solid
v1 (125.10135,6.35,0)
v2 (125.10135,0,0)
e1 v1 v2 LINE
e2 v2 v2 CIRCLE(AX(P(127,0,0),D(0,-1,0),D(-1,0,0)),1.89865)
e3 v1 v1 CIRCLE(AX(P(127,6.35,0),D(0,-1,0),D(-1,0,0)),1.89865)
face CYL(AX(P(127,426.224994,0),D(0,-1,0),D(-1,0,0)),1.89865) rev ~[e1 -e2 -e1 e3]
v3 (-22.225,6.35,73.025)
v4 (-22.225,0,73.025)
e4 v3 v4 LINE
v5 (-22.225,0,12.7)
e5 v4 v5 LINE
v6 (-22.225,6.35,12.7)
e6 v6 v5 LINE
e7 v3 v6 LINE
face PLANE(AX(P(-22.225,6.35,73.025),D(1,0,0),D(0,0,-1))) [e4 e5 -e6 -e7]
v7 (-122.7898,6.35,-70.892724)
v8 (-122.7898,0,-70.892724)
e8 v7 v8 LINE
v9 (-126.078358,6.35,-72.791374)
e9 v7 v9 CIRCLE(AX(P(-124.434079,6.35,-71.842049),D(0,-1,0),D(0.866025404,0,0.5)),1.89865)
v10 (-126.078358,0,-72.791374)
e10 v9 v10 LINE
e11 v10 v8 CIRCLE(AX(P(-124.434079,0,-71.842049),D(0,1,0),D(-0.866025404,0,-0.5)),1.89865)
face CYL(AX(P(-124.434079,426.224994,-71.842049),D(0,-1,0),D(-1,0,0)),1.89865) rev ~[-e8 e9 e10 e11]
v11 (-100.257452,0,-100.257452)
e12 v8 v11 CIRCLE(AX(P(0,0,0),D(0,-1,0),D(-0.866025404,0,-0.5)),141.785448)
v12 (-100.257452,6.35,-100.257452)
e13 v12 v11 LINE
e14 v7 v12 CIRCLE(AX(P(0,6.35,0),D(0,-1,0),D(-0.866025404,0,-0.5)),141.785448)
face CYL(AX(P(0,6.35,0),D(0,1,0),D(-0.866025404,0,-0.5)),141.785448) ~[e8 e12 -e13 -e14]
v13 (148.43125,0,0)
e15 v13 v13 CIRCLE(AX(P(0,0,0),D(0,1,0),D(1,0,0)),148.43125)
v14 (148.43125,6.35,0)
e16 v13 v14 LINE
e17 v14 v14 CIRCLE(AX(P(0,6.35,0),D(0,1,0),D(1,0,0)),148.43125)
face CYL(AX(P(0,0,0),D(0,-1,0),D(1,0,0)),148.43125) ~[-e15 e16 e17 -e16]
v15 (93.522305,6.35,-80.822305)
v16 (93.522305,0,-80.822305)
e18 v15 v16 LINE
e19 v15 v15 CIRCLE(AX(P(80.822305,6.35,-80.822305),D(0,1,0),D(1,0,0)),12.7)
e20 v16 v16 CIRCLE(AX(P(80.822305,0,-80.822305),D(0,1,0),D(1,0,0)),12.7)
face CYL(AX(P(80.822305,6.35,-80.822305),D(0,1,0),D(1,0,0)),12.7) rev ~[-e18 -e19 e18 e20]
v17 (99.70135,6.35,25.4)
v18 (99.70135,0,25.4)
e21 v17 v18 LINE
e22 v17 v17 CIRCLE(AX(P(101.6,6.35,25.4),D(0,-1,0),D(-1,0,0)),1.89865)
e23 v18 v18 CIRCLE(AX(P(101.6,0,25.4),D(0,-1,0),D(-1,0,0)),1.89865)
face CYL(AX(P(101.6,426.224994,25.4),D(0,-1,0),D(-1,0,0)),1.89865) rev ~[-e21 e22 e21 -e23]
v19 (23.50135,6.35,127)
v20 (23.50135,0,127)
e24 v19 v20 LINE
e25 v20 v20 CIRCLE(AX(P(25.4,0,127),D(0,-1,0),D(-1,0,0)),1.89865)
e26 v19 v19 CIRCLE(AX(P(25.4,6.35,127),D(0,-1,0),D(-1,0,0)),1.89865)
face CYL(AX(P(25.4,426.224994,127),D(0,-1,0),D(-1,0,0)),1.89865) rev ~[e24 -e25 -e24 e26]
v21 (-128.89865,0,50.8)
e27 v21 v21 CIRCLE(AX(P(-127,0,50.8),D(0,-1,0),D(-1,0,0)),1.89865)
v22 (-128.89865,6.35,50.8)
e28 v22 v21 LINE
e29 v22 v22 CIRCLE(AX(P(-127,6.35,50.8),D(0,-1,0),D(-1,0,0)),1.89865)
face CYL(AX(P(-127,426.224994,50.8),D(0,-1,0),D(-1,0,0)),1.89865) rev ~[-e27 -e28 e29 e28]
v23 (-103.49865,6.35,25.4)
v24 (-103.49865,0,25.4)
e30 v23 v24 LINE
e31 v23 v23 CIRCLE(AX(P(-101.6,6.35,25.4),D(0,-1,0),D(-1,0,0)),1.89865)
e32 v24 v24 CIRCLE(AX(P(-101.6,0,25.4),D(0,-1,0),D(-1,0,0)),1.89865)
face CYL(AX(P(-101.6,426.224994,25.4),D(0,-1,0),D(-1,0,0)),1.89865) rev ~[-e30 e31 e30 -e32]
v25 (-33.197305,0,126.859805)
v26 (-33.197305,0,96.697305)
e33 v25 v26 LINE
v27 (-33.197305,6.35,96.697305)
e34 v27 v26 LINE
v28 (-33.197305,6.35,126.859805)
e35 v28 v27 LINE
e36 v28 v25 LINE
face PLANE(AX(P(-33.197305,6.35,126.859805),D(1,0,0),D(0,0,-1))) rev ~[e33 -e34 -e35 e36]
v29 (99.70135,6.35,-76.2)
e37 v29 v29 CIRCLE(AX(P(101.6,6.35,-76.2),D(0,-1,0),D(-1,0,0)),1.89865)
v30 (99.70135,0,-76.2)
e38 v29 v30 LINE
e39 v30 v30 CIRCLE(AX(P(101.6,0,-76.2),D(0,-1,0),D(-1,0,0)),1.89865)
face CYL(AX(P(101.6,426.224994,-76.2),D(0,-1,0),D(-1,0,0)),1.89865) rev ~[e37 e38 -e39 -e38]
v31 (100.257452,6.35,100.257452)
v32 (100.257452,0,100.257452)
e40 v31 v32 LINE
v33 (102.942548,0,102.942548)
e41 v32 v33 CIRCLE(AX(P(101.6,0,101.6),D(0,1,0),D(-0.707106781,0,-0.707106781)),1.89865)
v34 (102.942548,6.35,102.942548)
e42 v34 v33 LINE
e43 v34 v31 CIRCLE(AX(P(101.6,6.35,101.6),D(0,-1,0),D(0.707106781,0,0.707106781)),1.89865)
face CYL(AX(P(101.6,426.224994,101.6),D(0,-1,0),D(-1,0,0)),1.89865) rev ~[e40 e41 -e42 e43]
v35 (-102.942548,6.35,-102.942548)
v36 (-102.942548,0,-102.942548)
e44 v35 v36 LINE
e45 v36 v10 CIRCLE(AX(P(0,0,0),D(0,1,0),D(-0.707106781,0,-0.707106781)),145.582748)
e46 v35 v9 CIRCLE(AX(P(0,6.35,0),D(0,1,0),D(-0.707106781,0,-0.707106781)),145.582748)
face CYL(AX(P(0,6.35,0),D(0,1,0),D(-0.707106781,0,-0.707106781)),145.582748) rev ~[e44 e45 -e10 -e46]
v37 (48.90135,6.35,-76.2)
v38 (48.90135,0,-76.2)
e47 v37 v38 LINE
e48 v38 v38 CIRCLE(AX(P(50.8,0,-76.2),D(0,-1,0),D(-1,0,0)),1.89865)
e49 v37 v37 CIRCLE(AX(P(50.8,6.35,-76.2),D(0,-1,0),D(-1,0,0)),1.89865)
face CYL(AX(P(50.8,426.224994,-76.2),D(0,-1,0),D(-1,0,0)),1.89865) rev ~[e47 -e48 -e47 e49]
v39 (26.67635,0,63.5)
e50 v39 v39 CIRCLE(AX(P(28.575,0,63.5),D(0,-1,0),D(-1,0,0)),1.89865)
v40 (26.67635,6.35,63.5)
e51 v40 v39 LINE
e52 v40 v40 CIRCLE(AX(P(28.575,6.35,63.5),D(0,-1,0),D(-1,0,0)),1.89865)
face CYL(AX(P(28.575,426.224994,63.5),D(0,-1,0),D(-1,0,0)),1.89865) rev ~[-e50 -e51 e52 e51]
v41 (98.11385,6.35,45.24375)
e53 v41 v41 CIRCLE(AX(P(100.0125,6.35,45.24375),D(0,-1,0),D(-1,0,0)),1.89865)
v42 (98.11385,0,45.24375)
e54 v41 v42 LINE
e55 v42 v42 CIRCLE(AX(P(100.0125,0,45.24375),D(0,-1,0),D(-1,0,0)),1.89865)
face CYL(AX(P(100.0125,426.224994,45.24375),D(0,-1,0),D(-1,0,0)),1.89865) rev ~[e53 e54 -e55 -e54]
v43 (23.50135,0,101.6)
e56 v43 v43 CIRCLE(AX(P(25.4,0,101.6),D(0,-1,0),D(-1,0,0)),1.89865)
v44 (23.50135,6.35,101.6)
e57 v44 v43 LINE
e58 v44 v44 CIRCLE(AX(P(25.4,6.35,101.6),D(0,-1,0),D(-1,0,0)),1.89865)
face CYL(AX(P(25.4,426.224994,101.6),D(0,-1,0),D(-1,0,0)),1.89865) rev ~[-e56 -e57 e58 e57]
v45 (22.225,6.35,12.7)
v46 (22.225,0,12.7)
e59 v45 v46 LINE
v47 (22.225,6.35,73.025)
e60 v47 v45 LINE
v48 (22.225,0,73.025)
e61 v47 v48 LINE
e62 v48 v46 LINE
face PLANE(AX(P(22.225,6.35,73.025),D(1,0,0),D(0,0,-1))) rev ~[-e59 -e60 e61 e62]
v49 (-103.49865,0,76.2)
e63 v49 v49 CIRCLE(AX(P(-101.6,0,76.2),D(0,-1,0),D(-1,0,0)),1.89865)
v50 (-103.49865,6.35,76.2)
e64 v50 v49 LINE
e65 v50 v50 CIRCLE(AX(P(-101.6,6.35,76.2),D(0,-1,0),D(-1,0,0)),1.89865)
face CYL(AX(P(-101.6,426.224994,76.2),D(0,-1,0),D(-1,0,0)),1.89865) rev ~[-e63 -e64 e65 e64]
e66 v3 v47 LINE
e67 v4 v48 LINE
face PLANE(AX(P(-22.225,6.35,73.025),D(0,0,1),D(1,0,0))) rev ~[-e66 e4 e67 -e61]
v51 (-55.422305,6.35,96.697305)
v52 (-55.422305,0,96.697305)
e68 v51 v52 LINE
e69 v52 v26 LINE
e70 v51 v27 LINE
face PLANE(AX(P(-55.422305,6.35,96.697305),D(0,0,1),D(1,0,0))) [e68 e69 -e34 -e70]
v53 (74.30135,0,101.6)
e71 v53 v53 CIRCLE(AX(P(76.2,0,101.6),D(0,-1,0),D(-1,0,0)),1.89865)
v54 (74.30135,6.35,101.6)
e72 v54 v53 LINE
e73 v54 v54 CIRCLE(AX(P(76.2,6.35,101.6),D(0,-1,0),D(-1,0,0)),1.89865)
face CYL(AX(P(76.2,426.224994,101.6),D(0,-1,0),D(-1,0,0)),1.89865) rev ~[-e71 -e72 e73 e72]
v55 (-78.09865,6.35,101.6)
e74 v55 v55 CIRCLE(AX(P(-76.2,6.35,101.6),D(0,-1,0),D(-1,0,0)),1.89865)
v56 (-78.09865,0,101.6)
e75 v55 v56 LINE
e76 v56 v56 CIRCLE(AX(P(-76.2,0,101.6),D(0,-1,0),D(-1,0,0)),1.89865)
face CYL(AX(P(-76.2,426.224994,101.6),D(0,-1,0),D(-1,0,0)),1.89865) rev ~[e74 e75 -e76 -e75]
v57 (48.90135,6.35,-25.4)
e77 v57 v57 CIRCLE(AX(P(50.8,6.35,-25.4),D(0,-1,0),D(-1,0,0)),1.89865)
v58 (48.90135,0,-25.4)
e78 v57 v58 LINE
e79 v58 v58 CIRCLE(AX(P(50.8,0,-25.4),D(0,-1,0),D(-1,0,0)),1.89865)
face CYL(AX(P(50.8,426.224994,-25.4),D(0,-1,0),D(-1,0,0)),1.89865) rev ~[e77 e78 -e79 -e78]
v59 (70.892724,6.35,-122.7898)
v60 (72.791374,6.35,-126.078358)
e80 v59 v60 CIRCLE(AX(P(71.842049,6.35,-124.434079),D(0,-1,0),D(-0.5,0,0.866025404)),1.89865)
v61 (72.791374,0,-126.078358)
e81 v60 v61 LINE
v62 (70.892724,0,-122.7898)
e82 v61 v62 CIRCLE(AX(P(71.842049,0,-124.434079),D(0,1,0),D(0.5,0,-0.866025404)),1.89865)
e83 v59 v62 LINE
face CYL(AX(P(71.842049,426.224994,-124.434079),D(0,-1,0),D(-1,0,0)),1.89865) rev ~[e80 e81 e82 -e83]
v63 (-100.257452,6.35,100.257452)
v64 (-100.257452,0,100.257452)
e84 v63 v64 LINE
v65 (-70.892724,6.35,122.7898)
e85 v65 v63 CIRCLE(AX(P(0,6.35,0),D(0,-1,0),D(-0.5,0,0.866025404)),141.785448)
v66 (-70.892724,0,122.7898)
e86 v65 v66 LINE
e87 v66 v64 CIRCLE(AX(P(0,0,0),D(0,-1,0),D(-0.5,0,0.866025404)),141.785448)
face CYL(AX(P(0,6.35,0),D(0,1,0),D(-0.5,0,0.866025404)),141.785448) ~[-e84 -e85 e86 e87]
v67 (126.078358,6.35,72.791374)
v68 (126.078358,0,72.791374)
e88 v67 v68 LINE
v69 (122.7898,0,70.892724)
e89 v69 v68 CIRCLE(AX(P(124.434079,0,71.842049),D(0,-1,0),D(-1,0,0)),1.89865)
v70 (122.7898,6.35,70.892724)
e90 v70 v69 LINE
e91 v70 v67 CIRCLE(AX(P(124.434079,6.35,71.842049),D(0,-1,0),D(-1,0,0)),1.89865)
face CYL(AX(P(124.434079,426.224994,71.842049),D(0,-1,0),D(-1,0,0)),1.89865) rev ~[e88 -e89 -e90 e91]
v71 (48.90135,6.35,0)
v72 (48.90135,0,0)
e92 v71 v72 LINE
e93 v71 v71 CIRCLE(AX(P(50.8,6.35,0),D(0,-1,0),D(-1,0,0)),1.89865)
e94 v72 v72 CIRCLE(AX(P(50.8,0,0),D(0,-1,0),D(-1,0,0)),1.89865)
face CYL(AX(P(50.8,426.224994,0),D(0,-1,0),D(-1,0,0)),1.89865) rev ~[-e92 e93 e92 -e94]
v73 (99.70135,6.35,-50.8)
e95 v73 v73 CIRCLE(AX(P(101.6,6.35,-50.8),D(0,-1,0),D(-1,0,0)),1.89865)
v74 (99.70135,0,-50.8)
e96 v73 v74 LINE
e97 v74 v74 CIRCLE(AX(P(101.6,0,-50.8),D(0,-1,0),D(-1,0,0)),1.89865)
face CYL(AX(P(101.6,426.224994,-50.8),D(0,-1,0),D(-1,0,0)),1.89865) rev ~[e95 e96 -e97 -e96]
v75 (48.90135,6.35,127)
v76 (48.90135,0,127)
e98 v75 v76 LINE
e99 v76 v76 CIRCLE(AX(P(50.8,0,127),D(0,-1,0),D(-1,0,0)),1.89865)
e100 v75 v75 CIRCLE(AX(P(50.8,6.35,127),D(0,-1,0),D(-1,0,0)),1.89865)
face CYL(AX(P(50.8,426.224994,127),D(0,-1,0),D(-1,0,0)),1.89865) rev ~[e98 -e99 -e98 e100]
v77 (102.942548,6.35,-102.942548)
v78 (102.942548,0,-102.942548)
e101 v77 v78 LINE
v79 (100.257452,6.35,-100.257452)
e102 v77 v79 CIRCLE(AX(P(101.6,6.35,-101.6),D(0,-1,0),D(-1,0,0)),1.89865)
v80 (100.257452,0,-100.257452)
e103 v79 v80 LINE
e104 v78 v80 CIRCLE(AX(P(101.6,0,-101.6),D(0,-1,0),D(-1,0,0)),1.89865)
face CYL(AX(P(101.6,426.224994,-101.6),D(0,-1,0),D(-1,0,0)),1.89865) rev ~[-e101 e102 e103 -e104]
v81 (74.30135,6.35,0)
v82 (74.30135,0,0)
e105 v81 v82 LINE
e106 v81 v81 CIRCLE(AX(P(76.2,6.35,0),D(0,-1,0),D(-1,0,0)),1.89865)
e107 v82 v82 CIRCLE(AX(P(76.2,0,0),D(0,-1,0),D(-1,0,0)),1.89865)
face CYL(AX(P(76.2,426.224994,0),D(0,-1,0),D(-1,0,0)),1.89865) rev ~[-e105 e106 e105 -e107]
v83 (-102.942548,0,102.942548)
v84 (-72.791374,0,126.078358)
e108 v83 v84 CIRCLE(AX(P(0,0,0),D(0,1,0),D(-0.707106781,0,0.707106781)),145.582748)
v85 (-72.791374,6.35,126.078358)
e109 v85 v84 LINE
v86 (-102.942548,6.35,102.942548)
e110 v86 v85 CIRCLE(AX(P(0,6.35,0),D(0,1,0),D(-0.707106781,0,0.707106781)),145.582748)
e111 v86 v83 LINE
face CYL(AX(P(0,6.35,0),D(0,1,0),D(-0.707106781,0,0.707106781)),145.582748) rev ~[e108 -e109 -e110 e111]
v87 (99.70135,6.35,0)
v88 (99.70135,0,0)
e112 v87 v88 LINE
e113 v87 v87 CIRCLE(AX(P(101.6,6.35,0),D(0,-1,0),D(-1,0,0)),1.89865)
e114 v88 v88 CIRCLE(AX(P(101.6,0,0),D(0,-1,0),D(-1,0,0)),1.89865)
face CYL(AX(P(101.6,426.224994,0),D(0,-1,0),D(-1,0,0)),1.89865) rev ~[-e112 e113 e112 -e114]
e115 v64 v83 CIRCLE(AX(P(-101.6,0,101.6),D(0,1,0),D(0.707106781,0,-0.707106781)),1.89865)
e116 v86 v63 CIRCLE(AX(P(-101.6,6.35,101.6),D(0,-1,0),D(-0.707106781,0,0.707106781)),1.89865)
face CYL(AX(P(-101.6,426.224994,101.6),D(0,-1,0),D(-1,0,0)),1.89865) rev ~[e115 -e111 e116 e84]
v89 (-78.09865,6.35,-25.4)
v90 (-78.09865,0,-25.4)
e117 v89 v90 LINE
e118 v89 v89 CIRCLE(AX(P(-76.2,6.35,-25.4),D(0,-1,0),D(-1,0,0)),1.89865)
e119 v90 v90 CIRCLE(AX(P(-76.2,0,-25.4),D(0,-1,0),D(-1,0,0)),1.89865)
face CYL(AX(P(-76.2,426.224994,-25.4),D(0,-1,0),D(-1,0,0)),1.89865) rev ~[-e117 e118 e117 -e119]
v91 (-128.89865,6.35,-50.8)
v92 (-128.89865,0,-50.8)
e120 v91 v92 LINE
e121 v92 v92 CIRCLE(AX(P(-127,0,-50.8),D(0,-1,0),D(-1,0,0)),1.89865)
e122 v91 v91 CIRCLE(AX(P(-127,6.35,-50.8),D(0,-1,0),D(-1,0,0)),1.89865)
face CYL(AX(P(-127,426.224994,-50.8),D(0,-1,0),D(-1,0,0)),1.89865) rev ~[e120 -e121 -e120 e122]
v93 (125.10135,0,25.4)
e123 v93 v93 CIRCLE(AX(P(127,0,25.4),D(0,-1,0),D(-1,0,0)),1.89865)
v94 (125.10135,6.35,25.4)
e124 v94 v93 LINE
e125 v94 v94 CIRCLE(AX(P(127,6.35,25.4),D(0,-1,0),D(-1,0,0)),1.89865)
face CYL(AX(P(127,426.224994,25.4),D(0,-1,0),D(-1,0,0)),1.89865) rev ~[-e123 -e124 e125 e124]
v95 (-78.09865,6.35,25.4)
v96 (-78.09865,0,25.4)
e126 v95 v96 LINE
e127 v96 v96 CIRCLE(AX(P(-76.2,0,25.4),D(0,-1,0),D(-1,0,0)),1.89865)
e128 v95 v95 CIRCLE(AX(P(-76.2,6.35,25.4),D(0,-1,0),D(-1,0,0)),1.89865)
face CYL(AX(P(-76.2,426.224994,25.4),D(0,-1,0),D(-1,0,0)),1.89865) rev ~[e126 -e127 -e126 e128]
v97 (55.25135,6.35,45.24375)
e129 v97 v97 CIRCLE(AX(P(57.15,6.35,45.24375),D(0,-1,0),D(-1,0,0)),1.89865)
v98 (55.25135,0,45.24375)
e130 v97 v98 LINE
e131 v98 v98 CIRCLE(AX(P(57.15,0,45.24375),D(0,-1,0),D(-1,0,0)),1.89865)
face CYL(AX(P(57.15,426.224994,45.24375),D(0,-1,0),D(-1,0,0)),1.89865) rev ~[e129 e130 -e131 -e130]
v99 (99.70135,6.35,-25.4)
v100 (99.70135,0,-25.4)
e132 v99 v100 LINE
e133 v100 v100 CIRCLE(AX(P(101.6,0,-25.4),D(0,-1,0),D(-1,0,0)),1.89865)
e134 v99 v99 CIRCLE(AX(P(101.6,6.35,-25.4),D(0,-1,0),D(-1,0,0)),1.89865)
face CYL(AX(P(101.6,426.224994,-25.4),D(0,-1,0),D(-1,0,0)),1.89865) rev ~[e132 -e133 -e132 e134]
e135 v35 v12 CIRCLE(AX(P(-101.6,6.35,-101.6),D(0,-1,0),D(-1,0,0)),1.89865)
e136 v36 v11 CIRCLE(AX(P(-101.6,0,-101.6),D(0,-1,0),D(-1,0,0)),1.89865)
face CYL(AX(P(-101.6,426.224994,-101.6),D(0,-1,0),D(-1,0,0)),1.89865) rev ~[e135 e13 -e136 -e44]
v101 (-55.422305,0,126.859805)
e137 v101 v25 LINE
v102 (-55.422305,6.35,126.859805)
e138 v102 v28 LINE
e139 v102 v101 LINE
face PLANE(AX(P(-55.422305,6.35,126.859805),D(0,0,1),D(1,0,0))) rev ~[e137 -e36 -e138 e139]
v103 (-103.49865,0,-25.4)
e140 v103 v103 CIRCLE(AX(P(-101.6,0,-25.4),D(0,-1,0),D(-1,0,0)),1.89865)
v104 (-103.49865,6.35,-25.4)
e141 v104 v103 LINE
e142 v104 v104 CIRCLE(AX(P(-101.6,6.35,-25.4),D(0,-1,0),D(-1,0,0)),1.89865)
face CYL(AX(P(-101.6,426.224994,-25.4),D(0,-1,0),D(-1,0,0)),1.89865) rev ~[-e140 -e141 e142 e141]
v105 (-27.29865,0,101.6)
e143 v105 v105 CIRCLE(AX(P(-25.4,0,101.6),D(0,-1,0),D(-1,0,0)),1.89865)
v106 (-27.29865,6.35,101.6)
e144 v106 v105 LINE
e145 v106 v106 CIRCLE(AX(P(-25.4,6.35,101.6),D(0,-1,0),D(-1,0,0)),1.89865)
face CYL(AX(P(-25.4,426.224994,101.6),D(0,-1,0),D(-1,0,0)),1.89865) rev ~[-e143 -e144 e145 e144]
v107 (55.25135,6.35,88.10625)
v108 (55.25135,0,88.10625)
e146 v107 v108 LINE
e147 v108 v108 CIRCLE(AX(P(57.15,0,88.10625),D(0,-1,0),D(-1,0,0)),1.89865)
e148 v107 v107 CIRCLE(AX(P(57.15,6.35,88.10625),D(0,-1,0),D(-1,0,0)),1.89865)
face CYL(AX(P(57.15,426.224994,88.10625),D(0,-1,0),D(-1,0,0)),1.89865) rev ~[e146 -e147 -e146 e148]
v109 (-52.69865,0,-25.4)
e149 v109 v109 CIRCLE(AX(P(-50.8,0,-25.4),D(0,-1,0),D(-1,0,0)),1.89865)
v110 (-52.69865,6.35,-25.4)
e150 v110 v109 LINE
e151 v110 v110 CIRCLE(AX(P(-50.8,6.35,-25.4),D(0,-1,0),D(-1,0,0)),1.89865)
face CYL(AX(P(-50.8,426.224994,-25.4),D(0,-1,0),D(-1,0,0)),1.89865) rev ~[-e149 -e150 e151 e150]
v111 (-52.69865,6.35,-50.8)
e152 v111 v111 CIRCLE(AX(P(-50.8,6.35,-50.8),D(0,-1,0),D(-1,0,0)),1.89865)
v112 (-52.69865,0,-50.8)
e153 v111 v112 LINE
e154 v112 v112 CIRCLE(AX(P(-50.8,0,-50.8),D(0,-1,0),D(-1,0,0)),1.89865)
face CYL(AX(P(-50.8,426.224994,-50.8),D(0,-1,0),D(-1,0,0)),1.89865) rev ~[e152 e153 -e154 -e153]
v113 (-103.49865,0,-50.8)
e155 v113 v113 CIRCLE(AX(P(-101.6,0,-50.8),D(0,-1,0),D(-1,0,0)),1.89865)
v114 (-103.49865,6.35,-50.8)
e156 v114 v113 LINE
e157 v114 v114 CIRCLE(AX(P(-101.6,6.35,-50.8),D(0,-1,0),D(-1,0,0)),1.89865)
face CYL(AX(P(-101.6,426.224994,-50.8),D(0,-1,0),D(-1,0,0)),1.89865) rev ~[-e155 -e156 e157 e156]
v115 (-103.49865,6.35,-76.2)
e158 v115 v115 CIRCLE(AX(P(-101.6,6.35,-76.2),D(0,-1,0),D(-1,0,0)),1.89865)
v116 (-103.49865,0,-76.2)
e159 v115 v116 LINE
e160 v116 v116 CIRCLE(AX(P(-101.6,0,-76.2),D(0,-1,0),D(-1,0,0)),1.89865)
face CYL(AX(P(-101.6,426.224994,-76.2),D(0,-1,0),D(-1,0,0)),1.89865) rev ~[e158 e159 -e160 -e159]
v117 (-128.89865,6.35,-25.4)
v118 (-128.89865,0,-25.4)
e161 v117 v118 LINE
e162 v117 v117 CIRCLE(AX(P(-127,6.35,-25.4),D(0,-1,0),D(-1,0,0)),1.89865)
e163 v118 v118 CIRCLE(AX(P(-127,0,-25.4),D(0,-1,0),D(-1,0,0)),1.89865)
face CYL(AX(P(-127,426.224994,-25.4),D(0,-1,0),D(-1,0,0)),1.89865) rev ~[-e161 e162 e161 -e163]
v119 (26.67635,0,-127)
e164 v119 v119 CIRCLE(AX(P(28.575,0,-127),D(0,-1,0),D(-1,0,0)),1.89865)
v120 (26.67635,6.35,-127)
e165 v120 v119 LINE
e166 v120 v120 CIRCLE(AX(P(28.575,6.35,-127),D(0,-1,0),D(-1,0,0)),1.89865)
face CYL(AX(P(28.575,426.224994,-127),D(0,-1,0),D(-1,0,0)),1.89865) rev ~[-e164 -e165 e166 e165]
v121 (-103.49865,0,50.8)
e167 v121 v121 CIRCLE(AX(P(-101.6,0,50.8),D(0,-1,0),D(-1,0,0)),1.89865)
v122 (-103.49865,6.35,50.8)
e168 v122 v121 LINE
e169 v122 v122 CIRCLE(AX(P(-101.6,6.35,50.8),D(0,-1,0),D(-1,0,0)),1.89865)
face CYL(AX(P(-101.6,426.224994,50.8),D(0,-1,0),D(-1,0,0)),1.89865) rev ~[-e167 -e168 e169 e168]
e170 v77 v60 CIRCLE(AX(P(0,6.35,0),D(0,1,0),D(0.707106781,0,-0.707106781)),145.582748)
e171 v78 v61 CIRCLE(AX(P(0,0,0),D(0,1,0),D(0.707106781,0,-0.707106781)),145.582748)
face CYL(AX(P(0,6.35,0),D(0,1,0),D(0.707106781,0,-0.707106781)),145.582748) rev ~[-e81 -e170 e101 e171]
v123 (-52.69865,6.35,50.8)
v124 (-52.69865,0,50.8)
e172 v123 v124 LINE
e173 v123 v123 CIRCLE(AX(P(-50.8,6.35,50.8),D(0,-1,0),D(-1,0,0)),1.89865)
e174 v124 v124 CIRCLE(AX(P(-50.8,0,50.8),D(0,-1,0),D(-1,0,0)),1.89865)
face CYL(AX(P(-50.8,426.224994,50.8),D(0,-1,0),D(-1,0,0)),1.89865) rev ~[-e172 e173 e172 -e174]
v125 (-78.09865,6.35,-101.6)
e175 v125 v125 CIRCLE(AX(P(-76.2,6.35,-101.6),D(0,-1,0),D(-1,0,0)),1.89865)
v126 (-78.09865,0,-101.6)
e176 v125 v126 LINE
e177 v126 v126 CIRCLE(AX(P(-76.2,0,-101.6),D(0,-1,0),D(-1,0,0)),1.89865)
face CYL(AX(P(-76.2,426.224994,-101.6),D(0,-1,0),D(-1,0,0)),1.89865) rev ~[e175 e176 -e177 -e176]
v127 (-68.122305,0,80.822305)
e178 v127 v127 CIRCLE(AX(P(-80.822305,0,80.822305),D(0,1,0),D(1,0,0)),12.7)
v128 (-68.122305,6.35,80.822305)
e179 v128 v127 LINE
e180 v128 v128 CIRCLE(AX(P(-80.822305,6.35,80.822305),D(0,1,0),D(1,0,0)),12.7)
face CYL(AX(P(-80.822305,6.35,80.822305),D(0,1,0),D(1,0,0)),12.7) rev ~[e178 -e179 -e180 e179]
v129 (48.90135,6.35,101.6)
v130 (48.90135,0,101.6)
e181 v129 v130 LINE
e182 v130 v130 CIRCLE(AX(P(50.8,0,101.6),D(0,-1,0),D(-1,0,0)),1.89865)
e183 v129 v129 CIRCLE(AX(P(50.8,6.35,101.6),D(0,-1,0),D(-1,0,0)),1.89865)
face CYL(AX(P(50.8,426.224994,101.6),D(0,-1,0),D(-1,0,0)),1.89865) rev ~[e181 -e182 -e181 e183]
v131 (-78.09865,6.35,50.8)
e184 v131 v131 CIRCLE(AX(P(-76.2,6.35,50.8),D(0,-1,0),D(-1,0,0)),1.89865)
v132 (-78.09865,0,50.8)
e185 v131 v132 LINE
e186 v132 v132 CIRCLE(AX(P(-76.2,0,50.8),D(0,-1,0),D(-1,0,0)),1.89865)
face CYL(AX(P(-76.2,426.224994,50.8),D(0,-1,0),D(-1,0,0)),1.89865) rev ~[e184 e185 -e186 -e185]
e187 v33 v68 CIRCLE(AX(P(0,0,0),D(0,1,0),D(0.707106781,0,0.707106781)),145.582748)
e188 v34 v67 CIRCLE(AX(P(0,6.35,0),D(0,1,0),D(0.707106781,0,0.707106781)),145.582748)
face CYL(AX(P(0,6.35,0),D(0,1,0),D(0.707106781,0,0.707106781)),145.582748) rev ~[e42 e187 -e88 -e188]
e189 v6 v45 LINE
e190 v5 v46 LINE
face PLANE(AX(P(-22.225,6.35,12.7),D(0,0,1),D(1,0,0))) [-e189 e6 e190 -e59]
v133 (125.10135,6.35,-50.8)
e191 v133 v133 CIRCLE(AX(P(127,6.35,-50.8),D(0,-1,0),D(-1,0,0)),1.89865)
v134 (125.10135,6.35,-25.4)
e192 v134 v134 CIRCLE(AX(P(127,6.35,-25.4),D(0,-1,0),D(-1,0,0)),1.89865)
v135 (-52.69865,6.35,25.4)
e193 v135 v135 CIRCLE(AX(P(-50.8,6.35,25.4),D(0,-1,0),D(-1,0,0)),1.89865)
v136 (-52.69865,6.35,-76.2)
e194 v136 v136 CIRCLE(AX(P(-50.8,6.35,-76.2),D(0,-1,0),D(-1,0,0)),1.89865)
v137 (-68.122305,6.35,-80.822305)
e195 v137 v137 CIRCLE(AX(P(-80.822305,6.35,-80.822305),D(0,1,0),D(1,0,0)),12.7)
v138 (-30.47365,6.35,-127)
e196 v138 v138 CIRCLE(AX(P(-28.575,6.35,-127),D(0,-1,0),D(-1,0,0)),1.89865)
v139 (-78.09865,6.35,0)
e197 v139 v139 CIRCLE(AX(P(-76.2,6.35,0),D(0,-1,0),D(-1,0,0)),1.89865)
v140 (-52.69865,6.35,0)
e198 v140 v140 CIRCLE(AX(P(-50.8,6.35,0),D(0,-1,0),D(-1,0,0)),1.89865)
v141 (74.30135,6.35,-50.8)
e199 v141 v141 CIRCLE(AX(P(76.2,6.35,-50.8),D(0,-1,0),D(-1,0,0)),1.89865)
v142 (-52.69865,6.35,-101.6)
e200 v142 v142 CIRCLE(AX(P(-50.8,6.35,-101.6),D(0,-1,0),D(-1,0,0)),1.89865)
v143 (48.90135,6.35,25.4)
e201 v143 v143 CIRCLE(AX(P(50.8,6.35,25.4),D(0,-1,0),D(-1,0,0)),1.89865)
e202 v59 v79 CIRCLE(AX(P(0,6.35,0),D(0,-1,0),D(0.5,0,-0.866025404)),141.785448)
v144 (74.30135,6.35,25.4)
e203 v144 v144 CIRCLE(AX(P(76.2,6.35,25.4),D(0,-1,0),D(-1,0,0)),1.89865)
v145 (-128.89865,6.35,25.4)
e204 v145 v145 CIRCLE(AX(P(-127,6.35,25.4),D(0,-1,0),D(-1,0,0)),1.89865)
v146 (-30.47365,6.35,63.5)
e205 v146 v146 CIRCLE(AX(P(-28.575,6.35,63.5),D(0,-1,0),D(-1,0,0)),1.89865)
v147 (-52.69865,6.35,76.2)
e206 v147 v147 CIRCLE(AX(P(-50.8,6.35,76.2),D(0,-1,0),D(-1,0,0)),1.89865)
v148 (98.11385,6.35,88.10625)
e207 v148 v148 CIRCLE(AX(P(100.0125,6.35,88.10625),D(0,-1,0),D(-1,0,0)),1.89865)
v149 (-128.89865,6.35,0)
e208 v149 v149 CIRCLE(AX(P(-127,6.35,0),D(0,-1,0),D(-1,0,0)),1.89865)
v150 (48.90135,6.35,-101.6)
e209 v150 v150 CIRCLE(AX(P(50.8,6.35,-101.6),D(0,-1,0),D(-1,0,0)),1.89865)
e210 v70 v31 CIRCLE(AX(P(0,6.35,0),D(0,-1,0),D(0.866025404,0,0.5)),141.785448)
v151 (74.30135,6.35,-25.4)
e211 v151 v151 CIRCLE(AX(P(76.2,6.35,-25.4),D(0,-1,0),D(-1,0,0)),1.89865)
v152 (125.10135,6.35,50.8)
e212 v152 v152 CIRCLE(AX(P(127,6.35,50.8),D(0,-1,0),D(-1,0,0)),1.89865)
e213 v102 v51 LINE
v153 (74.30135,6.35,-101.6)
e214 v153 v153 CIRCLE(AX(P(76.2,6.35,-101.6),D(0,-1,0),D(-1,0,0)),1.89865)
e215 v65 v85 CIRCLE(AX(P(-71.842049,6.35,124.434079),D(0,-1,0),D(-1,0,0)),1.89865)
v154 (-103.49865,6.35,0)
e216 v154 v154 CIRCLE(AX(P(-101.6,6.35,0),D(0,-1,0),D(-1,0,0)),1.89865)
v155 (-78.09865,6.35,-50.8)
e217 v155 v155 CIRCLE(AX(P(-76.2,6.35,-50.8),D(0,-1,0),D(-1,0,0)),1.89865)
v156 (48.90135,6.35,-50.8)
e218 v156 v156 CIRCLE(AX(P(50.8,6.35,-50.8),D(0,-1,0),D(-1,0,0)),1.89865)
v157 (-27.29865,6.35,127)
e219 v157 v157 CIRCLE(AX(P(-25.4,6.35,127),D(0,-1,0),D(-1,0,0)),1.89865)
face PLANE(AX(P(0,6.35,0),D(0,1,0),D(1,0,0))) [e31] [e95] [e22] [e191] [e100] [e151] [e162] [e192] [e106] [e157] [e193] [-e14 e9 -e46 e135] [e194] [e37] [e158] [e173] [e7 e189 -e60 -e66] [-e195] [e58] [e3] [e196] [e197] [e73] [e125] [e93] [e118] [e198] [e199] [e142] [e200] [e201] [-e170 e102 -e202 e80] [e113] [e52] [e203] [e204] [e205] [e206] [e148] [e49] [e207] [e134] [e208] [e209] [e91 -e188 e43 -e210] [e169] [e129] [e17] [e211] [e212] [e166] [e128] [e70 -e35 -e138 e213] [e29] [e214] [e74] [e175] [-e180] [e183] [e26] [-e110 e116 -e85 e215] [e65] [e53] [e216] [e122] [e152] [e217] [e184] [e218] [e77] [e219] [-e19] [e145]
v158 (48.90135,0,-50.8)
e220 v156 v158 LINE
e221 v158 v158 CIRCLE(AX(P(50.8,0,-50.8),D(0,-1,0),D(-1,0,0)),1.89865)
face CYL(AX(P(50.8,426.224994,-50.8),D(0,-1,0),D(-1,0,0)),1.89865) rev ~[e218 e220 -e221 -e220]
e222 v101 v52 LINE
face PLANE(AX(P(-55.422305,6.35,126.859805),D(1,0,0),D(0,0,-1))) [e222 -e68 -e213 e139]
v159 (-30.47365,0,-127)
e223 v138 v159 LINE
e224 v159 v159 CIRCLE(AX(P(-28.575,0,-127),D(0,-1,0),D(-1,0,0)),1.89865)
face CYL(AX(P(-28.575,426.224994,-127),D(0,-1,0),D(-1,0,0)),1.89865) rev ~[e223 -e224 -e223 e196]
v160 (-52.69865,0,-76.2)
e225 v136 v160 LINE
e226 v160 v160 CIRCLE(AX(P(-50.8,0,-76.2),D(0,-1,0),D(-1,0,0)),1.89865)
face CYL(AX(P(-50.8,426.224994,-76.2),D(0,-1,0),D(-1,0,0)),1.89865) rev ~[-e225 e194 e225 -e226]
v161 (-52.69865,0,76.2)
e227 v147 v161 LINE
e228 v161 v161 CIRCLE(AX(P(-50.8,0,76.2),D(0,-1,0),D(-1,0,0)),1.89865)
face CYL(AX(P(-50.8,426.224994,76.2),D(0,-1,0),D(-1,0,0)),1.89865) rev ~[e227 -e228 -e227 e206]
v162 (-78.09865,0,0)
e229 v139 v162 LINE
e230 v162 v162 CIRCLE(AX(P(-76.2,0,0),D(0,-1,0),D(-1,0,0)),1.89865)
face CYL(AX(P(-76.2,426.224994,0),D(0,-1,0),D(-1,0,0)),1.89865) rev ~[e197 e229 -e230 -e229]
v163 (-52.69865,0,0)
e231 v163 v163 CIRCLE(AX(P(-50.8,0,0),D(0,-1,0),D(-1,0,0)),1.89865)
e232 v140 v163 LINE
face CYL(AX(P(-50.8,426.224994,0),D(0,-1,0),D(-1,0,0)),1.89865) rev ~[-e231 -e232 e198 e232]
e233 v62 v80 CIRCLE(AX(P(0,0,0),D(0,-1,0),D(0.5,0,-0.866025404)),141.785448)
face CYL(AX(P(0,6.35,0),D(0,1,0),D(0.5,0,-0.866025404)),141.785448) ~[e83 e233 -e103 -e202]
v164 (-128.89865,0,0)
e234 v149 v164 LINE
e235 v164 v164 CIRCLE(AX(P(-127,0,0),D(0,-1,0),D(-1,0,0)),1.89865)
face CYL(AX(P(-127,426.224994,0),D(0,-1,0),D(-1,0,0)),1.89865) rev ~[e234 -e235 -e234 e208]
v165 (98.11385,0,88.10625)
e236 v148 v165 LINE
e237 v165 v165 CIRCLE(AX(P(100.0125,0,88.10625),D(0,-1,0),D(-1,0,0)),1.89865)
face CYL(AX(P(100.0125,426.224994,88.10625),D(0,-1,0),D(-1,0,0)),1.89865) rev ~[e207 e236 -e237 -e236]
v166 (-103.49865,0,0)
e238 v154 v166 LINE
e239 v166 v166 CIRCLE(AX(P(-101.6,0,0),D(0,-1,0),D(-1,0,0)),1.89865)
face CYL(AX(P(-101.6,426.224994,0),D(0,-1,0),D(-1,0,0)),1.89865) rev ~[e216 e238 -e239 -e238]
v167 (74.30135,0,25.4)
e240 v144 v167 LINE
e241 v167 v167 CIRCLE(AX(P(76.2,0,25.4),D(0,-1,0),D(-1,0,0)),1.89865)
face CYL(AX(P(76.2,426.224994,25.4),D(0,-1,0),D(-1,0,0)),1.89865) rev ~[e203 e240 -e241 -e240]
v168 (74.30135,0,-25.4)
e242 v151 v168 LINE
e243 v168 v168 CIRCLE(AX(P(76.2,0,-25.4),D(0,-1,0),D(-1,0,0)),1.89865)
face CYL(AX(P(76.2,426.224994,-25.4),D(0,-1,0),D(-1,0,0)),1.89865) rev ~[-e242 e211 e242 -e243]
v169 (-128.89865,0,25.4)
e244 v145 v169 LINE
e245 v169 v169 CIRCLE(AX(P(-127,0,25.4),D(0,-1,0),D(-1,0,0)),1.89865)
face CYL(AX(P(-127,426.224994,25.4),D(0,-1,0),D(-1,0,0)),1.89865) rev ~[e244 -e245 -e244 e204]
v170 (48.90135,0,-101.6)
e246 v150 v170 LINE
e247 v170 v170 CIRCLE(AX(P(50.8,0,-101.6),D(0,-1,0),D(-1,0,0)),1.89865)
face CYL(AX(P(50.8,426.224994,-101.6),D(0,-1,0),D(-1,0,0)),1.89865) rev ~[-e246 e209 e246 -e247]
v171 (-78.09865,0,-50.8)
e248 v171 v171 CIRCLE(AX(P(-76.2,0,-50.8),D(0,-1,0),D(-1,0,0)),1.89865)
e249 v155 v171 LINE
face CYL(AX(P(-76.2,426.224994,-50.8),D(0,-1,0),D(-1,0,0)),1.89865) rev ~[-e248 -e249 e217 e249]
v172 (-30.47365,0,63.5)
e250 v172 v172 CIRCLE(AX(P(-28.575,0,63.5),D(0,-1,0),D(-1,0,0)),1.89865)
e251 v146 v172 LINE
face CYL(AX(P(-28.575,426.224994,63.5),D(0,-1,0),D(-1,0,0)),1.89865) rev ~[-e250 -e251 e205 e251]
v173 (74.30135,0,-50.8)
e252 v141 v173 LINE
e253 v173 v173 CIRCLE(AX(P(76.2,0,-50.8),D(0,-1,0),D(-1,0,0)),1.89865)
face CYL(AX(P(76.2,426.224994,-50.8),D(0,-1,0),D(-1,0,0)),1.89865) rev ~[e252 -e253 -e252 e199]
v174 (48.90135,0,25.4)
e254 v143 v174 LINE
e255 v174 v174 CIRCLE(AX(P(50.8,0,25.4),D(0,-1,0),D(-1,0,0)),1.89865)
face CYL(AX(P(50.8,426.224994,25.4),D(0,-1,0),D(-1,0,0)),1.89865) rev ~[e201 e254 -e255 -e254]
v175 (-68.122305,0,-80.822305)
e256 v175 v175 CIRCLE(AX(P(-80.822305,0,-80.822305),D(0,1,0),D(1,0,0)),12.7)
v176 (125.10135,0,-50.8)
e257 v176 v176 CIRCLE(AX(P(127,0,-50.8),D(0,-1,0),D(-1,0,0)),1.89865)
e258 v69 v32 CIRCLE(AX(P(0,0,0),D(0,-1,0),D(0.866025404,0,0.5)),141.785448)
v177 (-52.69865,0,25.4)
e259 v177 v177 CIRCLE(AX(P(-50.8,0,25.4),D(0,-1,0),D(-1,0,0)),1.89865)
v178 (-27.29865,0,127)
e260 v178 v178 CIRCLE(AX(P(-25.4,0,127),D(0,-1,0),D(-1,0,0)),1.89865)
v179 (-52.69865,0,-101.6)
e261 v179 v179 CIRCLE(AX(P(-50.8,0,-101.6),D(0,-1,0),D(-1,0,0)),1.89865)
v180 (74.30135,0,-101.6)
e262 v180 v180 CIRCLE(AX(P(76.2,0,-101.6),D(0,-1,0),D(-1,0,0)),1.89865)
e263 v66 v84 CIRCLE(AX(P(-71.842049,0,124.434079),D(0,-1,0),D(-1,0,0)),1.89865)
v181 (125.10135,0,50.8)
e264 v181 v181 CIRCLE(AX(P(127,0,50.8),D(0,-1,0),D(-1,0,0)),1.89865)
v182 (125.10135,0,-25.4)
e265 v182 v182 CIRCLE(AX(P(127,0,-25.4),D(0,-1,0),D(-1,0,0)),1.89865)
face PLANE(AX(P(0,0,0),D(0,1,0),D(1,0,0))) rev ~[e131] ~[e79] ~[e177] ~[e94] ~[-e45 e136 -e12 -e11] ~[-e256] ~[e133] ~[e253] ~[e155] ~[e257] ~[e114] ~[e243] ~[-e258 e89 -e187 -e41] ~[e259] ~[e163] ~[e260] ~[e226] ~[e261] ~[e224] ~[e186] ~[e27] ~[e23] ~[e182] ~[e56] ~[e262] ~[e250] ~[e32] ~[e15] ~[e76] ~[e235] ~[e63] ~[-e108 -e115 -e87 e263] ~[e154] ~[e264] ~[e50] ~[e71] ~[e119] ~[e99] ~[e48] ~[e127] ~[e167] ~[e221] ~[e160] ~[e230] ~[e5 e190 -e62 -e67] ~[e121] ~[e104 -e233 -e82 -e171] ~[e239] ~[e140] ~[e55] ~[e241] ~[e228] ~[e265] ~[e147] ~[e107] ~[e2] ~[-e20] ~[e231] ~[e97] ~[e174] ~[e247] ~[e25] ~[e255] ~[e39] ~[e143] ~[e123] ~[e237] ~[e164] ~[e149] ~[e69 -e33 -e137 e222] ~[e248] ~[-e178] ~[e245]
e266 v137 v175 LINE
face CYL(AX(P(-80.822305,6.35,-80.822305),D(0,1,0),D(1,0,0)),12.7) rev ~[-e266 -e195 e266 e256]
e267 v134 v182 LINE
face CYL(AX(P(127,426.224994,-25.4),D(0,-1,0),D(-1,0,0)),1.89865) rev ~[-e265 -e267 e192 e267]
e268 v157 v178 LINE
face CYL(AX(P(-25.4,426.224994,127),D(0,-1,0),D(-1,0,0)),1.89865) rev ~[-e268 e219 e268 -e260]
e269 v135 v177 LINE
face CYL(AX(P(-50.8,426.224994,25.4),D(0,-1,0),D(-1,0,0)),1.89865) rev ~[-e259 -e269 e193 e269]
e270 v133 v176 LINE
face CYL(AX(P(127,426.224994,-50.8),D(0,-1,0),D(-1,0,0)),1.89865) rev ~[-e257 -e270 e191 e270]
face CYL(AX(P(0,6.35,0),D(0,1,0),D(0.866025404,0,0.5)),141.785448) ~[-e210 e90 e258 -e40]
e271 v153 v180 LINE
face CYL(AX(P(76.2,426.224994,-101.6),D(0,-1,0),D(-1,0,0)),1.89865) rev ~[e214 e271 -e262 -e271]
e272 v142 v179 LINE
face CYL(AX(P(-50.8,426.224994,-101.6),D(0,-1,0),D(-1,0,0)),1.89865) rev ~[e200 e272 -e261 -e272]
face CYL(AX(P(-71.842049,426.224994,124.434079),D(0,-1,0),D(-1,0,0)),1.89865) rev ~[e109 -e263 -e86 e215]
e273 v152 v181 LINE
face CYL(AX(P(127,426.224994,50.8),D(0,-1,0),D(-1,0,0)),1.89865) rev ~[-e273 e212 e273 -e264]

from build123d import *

# Parameters (mm, degrees)
SKETCH18_R            = 148.43125
BOSS_EXTRUDE1_DEPTH   = 6.35
F_6_CLEARANCE_HOLE1_D = 3.7973
CUT_EXTRUDE1_DEPTH    = 6.35
F_6_CLEARANCE_HOLE2_D = 3.7973
SKETCH29_W            = 44.45
SKETCH29_H            = 60.325
CUT_EXTRUDE2_DEPTH    = 7.35
SKETCH30_R            = 12.7
SKETCH30_W            = 22.225
SKETCH30_H            = 30.1625
CUT_EXTRUDE3_DEPTH    = 6.35
F_6_CLEARANCE_HOLE3_D = 3.7973


with BuildPart() as part:
    # Sketch18 → Boss-Extrude1 (new body)
    with BuildSketch(Plane(origin=(0, 0, 0), x_dir=(1, 0, 0), z_dir=(0, 1, 0))):
        Circle(SKETCH18_R)
    extrude(amount=BOSS_EXTRUDE1_DEPTH)

    # #6 Clearance Hole1 (through all)
    with Locations(Plane(origin=(0, 6.35, 0), x_dir=(1, 0, 0), z_dir=(0, 1, 0))):
        with Locations((-101.6, 101.6), (101.6, 101.6), (101.6, -101.6), (-101.6, -101.6), (-124.434078933, 71.842048969), (-71.842048969, -124.434078933), (124.434078933, -71.842048969), (71.842048969, 124.434078933)):
            Hole(F_6_CLEARANCE_HOLE1_D / 2)

    # Sketch23 → Cut-Extrude1 (cut)
    with BuildSketch(Plane(origin=(0, 6.35, 0), x_dir=(1, 0, 0), z_dir=(0, 1, 0))):
        with BuildLine():
            ThreePointArc((-72.791373969, -126.078358066), (-73.486328101, -123.484753933), (-70.892723969, -122.7897998))
            ThreePointArc((-70.892723969, -122.7897998), (-86.313511899, -112.485958726), (-100.25745171, -100.25745171))
            ThreePointArc((-100.25745171, -100.25745171), (-99.845876126, -100.873418101), (-99.70135, -101.6))
            ThreePointArc((-99.70135, -101.6), (-100.873418101, -103.354123874), (-102.94254829, -102.94254829))
            ThreePointArc((-102.94254829, -102.94254829), (-88.625161673, -115.498559365), (-72.791373969, -126.078358066))
        make_face()
        with BuildLine():
            ThreePointArc((-100.25745171, 100.25745171), (-102.94254829, 100.25745171), (-102.94254829, 102.94254829))
            ThreePointArc((-102.94254829, 102.94254829), (-115.498559365, 88.625161673), (-126.078358066, 72.791373969))
            ThreePointArc((-126.078358066, 72.791373969), (-123.942672153, 73.676004039), (-122.535428933, 71.842048969))
            ThreePointArc((-122.535428933, 71.842048969), (-122.600123863, 71.350642189), (-122.7897998, 70.892723969))
            ThreePointArc((-122.7897998, 70.892723969), (-112.485958726, 86.313511899), (-100.25745171, 100.25745171))
        make_face()
        with BuildLine():
            ThreePointArc((100.25745171, 100.25745171), (100.25745171, 102.94254829), (102.94254829, 102.94254829))
            ThreePointArc((102.94254829, 102.94254829), (88.625161673, 115.498559365), (72.791373969, 126.078358066))
            ThreePointArc((72.791373969, 126.078358066), (73.486328101, 125.383403933), (73.740698969, 124.434078933))
            ThreePointArc((73.740698969, 124.434078933), (72.791373969, 122.7897998), (70.892723969, 122.7897998))
            ThreePointArc((70.892723969, 122.7897998), (86.313511899, 112.485958726), (100.25745171, 100.25745171))
        make_face()
        with BuildLine():
            ThreePointArc((126.078358066, -72.791373969), (123.484753933, -73.486328101), (122.7897998, -70.892723969))
            ThreePointArc((122.7897998, -70.892723969), (112.485958726, -86.313511899), (100.25745171, -100.25745171))
            ThreePointArc((100.25745171, -100.25745171), (102.326581899, -99.845876126), (103.49865, -101.6))
            ThreePointArc((103.49865, -101.6), (103.354123874, -102.326581899), (102.94254829, -102.94254829))
            ThreePointArc((102.94254829, -102.94254829), (115.498559365, -88.625161673), (126.078358066, -72.791373969))
        make_face()
    extrude(amount=-CUT_EXTRUDE1_DEPTH, mode=Mode.SUBTRACT)

    # #6 Clearance Hole2 (through all)
    with Locations(Plane(origin=(0, 6.35, 0), x_dir=(1, 0, 0), z_dir=(0, 1, 0))):
        with Locations((57.15, -45.24375), (57.15, -88.10625), (100.0125, -88.10625), (100.0125, -45.24375), (-28.575, -63.5), (28.575, -63.5), (-28.575, 127), (28.575, 127)):
            Hole(F_6_CLEARANCE_HOLE2_D / 2)

    # Sketch29 → Cut-Extrude2 (cut, through all)
    with BuildSketch(Plane(origin=(0, 6.35, 0), x_dir=(1, 0, 0), z_dir=(0, 1, 0))):
        with Locations((0, -42.8625)):
            Rectangle(SKETCH29_W, SKETCH29_H)
    extrude(amount=-CUT_EXTRUDE2_DEPTH, mode=Mode.SUBTRACT)

    # Sketch30 → Cut-Extrude3 (cut)
    with BuildSketch(Plane(origin=(0, 6.35, 0), x_dir=(1, 0, 0), z_dir=(0, 1, 0))):
        with Locations((-80.82230509, 80.82230509)):
            Circle(SKETCH30_R)
        with Locations((80.82230509, 80.82230509)):
            Circle(SKETCH30_R)
        with Locations((-80.82230509, -80.82230509)):
            Circle(SKETCH30_R)
        with Locations((-44.30980509, -111.77855509)):
            Rectangle(SKETCH30_W, SKETCH30_H)
    extrude(amount=-CUT_EXTRUDE3_DEPTH, mode=Mode.SUBTRACT)

    # #6 Clearance Hole3 (through all)
    with Locations(Plane(origin=(0, 6.35, 0), x_dir=(1, 0, 0), z_dir=(0, 1, 0))):
        with Locations((-50.8, 101.6), (-76.2, 101.6), (-101.6, 76.2), (-50.8, 76.2), (-50.8, 50.8), (-76.2, 50.8), (-101.6, 50.8), (-127, 50.8), (-50.8, 25.4), (-76.2, 25.4), (-101.6, 25.4), (-127, 25.4), (-101.6, 0), (-127, 0), (-127, -25.4), (-101.6, -25.4), (-127, -50.8), (-101.6, -50.8), (-101.6, -76.2), (-76.2, -101.6), (-50.8, -76.2), (-76.2, -50.8), (-50.8, -50.8), (-50.8, -25.4), (-76.2, -25.4), (-76.2, 0), (-50.8, 0), (50.8, 101.6), (76.2, 101.6), (50.8, 76.2), (101.6, 76.2), (101.6, 50.8), (127, 50.8), (127, 25.4), (127, 0), (127, -25.4), (50.8, 50.8), (50.8, 25.4), (50.8, 0), (50.8, -25.4), (76.2, -25.4), (101.6, -25.4), (101.6, 0), (76.2, 0), (76.2, 25.4), (76.2, 50.8), (101.6, 25.4), (127, -50.8), (76.2, -101.6), (50.8, -101.6), (-25.4, -101.6), (25.4, -101.6), (25.4, -127), (50.8, -127), (-25.4, -127)):
            Hole(F_6_CLEARANCE_HOLE3_D / 2)


solid = part.part
